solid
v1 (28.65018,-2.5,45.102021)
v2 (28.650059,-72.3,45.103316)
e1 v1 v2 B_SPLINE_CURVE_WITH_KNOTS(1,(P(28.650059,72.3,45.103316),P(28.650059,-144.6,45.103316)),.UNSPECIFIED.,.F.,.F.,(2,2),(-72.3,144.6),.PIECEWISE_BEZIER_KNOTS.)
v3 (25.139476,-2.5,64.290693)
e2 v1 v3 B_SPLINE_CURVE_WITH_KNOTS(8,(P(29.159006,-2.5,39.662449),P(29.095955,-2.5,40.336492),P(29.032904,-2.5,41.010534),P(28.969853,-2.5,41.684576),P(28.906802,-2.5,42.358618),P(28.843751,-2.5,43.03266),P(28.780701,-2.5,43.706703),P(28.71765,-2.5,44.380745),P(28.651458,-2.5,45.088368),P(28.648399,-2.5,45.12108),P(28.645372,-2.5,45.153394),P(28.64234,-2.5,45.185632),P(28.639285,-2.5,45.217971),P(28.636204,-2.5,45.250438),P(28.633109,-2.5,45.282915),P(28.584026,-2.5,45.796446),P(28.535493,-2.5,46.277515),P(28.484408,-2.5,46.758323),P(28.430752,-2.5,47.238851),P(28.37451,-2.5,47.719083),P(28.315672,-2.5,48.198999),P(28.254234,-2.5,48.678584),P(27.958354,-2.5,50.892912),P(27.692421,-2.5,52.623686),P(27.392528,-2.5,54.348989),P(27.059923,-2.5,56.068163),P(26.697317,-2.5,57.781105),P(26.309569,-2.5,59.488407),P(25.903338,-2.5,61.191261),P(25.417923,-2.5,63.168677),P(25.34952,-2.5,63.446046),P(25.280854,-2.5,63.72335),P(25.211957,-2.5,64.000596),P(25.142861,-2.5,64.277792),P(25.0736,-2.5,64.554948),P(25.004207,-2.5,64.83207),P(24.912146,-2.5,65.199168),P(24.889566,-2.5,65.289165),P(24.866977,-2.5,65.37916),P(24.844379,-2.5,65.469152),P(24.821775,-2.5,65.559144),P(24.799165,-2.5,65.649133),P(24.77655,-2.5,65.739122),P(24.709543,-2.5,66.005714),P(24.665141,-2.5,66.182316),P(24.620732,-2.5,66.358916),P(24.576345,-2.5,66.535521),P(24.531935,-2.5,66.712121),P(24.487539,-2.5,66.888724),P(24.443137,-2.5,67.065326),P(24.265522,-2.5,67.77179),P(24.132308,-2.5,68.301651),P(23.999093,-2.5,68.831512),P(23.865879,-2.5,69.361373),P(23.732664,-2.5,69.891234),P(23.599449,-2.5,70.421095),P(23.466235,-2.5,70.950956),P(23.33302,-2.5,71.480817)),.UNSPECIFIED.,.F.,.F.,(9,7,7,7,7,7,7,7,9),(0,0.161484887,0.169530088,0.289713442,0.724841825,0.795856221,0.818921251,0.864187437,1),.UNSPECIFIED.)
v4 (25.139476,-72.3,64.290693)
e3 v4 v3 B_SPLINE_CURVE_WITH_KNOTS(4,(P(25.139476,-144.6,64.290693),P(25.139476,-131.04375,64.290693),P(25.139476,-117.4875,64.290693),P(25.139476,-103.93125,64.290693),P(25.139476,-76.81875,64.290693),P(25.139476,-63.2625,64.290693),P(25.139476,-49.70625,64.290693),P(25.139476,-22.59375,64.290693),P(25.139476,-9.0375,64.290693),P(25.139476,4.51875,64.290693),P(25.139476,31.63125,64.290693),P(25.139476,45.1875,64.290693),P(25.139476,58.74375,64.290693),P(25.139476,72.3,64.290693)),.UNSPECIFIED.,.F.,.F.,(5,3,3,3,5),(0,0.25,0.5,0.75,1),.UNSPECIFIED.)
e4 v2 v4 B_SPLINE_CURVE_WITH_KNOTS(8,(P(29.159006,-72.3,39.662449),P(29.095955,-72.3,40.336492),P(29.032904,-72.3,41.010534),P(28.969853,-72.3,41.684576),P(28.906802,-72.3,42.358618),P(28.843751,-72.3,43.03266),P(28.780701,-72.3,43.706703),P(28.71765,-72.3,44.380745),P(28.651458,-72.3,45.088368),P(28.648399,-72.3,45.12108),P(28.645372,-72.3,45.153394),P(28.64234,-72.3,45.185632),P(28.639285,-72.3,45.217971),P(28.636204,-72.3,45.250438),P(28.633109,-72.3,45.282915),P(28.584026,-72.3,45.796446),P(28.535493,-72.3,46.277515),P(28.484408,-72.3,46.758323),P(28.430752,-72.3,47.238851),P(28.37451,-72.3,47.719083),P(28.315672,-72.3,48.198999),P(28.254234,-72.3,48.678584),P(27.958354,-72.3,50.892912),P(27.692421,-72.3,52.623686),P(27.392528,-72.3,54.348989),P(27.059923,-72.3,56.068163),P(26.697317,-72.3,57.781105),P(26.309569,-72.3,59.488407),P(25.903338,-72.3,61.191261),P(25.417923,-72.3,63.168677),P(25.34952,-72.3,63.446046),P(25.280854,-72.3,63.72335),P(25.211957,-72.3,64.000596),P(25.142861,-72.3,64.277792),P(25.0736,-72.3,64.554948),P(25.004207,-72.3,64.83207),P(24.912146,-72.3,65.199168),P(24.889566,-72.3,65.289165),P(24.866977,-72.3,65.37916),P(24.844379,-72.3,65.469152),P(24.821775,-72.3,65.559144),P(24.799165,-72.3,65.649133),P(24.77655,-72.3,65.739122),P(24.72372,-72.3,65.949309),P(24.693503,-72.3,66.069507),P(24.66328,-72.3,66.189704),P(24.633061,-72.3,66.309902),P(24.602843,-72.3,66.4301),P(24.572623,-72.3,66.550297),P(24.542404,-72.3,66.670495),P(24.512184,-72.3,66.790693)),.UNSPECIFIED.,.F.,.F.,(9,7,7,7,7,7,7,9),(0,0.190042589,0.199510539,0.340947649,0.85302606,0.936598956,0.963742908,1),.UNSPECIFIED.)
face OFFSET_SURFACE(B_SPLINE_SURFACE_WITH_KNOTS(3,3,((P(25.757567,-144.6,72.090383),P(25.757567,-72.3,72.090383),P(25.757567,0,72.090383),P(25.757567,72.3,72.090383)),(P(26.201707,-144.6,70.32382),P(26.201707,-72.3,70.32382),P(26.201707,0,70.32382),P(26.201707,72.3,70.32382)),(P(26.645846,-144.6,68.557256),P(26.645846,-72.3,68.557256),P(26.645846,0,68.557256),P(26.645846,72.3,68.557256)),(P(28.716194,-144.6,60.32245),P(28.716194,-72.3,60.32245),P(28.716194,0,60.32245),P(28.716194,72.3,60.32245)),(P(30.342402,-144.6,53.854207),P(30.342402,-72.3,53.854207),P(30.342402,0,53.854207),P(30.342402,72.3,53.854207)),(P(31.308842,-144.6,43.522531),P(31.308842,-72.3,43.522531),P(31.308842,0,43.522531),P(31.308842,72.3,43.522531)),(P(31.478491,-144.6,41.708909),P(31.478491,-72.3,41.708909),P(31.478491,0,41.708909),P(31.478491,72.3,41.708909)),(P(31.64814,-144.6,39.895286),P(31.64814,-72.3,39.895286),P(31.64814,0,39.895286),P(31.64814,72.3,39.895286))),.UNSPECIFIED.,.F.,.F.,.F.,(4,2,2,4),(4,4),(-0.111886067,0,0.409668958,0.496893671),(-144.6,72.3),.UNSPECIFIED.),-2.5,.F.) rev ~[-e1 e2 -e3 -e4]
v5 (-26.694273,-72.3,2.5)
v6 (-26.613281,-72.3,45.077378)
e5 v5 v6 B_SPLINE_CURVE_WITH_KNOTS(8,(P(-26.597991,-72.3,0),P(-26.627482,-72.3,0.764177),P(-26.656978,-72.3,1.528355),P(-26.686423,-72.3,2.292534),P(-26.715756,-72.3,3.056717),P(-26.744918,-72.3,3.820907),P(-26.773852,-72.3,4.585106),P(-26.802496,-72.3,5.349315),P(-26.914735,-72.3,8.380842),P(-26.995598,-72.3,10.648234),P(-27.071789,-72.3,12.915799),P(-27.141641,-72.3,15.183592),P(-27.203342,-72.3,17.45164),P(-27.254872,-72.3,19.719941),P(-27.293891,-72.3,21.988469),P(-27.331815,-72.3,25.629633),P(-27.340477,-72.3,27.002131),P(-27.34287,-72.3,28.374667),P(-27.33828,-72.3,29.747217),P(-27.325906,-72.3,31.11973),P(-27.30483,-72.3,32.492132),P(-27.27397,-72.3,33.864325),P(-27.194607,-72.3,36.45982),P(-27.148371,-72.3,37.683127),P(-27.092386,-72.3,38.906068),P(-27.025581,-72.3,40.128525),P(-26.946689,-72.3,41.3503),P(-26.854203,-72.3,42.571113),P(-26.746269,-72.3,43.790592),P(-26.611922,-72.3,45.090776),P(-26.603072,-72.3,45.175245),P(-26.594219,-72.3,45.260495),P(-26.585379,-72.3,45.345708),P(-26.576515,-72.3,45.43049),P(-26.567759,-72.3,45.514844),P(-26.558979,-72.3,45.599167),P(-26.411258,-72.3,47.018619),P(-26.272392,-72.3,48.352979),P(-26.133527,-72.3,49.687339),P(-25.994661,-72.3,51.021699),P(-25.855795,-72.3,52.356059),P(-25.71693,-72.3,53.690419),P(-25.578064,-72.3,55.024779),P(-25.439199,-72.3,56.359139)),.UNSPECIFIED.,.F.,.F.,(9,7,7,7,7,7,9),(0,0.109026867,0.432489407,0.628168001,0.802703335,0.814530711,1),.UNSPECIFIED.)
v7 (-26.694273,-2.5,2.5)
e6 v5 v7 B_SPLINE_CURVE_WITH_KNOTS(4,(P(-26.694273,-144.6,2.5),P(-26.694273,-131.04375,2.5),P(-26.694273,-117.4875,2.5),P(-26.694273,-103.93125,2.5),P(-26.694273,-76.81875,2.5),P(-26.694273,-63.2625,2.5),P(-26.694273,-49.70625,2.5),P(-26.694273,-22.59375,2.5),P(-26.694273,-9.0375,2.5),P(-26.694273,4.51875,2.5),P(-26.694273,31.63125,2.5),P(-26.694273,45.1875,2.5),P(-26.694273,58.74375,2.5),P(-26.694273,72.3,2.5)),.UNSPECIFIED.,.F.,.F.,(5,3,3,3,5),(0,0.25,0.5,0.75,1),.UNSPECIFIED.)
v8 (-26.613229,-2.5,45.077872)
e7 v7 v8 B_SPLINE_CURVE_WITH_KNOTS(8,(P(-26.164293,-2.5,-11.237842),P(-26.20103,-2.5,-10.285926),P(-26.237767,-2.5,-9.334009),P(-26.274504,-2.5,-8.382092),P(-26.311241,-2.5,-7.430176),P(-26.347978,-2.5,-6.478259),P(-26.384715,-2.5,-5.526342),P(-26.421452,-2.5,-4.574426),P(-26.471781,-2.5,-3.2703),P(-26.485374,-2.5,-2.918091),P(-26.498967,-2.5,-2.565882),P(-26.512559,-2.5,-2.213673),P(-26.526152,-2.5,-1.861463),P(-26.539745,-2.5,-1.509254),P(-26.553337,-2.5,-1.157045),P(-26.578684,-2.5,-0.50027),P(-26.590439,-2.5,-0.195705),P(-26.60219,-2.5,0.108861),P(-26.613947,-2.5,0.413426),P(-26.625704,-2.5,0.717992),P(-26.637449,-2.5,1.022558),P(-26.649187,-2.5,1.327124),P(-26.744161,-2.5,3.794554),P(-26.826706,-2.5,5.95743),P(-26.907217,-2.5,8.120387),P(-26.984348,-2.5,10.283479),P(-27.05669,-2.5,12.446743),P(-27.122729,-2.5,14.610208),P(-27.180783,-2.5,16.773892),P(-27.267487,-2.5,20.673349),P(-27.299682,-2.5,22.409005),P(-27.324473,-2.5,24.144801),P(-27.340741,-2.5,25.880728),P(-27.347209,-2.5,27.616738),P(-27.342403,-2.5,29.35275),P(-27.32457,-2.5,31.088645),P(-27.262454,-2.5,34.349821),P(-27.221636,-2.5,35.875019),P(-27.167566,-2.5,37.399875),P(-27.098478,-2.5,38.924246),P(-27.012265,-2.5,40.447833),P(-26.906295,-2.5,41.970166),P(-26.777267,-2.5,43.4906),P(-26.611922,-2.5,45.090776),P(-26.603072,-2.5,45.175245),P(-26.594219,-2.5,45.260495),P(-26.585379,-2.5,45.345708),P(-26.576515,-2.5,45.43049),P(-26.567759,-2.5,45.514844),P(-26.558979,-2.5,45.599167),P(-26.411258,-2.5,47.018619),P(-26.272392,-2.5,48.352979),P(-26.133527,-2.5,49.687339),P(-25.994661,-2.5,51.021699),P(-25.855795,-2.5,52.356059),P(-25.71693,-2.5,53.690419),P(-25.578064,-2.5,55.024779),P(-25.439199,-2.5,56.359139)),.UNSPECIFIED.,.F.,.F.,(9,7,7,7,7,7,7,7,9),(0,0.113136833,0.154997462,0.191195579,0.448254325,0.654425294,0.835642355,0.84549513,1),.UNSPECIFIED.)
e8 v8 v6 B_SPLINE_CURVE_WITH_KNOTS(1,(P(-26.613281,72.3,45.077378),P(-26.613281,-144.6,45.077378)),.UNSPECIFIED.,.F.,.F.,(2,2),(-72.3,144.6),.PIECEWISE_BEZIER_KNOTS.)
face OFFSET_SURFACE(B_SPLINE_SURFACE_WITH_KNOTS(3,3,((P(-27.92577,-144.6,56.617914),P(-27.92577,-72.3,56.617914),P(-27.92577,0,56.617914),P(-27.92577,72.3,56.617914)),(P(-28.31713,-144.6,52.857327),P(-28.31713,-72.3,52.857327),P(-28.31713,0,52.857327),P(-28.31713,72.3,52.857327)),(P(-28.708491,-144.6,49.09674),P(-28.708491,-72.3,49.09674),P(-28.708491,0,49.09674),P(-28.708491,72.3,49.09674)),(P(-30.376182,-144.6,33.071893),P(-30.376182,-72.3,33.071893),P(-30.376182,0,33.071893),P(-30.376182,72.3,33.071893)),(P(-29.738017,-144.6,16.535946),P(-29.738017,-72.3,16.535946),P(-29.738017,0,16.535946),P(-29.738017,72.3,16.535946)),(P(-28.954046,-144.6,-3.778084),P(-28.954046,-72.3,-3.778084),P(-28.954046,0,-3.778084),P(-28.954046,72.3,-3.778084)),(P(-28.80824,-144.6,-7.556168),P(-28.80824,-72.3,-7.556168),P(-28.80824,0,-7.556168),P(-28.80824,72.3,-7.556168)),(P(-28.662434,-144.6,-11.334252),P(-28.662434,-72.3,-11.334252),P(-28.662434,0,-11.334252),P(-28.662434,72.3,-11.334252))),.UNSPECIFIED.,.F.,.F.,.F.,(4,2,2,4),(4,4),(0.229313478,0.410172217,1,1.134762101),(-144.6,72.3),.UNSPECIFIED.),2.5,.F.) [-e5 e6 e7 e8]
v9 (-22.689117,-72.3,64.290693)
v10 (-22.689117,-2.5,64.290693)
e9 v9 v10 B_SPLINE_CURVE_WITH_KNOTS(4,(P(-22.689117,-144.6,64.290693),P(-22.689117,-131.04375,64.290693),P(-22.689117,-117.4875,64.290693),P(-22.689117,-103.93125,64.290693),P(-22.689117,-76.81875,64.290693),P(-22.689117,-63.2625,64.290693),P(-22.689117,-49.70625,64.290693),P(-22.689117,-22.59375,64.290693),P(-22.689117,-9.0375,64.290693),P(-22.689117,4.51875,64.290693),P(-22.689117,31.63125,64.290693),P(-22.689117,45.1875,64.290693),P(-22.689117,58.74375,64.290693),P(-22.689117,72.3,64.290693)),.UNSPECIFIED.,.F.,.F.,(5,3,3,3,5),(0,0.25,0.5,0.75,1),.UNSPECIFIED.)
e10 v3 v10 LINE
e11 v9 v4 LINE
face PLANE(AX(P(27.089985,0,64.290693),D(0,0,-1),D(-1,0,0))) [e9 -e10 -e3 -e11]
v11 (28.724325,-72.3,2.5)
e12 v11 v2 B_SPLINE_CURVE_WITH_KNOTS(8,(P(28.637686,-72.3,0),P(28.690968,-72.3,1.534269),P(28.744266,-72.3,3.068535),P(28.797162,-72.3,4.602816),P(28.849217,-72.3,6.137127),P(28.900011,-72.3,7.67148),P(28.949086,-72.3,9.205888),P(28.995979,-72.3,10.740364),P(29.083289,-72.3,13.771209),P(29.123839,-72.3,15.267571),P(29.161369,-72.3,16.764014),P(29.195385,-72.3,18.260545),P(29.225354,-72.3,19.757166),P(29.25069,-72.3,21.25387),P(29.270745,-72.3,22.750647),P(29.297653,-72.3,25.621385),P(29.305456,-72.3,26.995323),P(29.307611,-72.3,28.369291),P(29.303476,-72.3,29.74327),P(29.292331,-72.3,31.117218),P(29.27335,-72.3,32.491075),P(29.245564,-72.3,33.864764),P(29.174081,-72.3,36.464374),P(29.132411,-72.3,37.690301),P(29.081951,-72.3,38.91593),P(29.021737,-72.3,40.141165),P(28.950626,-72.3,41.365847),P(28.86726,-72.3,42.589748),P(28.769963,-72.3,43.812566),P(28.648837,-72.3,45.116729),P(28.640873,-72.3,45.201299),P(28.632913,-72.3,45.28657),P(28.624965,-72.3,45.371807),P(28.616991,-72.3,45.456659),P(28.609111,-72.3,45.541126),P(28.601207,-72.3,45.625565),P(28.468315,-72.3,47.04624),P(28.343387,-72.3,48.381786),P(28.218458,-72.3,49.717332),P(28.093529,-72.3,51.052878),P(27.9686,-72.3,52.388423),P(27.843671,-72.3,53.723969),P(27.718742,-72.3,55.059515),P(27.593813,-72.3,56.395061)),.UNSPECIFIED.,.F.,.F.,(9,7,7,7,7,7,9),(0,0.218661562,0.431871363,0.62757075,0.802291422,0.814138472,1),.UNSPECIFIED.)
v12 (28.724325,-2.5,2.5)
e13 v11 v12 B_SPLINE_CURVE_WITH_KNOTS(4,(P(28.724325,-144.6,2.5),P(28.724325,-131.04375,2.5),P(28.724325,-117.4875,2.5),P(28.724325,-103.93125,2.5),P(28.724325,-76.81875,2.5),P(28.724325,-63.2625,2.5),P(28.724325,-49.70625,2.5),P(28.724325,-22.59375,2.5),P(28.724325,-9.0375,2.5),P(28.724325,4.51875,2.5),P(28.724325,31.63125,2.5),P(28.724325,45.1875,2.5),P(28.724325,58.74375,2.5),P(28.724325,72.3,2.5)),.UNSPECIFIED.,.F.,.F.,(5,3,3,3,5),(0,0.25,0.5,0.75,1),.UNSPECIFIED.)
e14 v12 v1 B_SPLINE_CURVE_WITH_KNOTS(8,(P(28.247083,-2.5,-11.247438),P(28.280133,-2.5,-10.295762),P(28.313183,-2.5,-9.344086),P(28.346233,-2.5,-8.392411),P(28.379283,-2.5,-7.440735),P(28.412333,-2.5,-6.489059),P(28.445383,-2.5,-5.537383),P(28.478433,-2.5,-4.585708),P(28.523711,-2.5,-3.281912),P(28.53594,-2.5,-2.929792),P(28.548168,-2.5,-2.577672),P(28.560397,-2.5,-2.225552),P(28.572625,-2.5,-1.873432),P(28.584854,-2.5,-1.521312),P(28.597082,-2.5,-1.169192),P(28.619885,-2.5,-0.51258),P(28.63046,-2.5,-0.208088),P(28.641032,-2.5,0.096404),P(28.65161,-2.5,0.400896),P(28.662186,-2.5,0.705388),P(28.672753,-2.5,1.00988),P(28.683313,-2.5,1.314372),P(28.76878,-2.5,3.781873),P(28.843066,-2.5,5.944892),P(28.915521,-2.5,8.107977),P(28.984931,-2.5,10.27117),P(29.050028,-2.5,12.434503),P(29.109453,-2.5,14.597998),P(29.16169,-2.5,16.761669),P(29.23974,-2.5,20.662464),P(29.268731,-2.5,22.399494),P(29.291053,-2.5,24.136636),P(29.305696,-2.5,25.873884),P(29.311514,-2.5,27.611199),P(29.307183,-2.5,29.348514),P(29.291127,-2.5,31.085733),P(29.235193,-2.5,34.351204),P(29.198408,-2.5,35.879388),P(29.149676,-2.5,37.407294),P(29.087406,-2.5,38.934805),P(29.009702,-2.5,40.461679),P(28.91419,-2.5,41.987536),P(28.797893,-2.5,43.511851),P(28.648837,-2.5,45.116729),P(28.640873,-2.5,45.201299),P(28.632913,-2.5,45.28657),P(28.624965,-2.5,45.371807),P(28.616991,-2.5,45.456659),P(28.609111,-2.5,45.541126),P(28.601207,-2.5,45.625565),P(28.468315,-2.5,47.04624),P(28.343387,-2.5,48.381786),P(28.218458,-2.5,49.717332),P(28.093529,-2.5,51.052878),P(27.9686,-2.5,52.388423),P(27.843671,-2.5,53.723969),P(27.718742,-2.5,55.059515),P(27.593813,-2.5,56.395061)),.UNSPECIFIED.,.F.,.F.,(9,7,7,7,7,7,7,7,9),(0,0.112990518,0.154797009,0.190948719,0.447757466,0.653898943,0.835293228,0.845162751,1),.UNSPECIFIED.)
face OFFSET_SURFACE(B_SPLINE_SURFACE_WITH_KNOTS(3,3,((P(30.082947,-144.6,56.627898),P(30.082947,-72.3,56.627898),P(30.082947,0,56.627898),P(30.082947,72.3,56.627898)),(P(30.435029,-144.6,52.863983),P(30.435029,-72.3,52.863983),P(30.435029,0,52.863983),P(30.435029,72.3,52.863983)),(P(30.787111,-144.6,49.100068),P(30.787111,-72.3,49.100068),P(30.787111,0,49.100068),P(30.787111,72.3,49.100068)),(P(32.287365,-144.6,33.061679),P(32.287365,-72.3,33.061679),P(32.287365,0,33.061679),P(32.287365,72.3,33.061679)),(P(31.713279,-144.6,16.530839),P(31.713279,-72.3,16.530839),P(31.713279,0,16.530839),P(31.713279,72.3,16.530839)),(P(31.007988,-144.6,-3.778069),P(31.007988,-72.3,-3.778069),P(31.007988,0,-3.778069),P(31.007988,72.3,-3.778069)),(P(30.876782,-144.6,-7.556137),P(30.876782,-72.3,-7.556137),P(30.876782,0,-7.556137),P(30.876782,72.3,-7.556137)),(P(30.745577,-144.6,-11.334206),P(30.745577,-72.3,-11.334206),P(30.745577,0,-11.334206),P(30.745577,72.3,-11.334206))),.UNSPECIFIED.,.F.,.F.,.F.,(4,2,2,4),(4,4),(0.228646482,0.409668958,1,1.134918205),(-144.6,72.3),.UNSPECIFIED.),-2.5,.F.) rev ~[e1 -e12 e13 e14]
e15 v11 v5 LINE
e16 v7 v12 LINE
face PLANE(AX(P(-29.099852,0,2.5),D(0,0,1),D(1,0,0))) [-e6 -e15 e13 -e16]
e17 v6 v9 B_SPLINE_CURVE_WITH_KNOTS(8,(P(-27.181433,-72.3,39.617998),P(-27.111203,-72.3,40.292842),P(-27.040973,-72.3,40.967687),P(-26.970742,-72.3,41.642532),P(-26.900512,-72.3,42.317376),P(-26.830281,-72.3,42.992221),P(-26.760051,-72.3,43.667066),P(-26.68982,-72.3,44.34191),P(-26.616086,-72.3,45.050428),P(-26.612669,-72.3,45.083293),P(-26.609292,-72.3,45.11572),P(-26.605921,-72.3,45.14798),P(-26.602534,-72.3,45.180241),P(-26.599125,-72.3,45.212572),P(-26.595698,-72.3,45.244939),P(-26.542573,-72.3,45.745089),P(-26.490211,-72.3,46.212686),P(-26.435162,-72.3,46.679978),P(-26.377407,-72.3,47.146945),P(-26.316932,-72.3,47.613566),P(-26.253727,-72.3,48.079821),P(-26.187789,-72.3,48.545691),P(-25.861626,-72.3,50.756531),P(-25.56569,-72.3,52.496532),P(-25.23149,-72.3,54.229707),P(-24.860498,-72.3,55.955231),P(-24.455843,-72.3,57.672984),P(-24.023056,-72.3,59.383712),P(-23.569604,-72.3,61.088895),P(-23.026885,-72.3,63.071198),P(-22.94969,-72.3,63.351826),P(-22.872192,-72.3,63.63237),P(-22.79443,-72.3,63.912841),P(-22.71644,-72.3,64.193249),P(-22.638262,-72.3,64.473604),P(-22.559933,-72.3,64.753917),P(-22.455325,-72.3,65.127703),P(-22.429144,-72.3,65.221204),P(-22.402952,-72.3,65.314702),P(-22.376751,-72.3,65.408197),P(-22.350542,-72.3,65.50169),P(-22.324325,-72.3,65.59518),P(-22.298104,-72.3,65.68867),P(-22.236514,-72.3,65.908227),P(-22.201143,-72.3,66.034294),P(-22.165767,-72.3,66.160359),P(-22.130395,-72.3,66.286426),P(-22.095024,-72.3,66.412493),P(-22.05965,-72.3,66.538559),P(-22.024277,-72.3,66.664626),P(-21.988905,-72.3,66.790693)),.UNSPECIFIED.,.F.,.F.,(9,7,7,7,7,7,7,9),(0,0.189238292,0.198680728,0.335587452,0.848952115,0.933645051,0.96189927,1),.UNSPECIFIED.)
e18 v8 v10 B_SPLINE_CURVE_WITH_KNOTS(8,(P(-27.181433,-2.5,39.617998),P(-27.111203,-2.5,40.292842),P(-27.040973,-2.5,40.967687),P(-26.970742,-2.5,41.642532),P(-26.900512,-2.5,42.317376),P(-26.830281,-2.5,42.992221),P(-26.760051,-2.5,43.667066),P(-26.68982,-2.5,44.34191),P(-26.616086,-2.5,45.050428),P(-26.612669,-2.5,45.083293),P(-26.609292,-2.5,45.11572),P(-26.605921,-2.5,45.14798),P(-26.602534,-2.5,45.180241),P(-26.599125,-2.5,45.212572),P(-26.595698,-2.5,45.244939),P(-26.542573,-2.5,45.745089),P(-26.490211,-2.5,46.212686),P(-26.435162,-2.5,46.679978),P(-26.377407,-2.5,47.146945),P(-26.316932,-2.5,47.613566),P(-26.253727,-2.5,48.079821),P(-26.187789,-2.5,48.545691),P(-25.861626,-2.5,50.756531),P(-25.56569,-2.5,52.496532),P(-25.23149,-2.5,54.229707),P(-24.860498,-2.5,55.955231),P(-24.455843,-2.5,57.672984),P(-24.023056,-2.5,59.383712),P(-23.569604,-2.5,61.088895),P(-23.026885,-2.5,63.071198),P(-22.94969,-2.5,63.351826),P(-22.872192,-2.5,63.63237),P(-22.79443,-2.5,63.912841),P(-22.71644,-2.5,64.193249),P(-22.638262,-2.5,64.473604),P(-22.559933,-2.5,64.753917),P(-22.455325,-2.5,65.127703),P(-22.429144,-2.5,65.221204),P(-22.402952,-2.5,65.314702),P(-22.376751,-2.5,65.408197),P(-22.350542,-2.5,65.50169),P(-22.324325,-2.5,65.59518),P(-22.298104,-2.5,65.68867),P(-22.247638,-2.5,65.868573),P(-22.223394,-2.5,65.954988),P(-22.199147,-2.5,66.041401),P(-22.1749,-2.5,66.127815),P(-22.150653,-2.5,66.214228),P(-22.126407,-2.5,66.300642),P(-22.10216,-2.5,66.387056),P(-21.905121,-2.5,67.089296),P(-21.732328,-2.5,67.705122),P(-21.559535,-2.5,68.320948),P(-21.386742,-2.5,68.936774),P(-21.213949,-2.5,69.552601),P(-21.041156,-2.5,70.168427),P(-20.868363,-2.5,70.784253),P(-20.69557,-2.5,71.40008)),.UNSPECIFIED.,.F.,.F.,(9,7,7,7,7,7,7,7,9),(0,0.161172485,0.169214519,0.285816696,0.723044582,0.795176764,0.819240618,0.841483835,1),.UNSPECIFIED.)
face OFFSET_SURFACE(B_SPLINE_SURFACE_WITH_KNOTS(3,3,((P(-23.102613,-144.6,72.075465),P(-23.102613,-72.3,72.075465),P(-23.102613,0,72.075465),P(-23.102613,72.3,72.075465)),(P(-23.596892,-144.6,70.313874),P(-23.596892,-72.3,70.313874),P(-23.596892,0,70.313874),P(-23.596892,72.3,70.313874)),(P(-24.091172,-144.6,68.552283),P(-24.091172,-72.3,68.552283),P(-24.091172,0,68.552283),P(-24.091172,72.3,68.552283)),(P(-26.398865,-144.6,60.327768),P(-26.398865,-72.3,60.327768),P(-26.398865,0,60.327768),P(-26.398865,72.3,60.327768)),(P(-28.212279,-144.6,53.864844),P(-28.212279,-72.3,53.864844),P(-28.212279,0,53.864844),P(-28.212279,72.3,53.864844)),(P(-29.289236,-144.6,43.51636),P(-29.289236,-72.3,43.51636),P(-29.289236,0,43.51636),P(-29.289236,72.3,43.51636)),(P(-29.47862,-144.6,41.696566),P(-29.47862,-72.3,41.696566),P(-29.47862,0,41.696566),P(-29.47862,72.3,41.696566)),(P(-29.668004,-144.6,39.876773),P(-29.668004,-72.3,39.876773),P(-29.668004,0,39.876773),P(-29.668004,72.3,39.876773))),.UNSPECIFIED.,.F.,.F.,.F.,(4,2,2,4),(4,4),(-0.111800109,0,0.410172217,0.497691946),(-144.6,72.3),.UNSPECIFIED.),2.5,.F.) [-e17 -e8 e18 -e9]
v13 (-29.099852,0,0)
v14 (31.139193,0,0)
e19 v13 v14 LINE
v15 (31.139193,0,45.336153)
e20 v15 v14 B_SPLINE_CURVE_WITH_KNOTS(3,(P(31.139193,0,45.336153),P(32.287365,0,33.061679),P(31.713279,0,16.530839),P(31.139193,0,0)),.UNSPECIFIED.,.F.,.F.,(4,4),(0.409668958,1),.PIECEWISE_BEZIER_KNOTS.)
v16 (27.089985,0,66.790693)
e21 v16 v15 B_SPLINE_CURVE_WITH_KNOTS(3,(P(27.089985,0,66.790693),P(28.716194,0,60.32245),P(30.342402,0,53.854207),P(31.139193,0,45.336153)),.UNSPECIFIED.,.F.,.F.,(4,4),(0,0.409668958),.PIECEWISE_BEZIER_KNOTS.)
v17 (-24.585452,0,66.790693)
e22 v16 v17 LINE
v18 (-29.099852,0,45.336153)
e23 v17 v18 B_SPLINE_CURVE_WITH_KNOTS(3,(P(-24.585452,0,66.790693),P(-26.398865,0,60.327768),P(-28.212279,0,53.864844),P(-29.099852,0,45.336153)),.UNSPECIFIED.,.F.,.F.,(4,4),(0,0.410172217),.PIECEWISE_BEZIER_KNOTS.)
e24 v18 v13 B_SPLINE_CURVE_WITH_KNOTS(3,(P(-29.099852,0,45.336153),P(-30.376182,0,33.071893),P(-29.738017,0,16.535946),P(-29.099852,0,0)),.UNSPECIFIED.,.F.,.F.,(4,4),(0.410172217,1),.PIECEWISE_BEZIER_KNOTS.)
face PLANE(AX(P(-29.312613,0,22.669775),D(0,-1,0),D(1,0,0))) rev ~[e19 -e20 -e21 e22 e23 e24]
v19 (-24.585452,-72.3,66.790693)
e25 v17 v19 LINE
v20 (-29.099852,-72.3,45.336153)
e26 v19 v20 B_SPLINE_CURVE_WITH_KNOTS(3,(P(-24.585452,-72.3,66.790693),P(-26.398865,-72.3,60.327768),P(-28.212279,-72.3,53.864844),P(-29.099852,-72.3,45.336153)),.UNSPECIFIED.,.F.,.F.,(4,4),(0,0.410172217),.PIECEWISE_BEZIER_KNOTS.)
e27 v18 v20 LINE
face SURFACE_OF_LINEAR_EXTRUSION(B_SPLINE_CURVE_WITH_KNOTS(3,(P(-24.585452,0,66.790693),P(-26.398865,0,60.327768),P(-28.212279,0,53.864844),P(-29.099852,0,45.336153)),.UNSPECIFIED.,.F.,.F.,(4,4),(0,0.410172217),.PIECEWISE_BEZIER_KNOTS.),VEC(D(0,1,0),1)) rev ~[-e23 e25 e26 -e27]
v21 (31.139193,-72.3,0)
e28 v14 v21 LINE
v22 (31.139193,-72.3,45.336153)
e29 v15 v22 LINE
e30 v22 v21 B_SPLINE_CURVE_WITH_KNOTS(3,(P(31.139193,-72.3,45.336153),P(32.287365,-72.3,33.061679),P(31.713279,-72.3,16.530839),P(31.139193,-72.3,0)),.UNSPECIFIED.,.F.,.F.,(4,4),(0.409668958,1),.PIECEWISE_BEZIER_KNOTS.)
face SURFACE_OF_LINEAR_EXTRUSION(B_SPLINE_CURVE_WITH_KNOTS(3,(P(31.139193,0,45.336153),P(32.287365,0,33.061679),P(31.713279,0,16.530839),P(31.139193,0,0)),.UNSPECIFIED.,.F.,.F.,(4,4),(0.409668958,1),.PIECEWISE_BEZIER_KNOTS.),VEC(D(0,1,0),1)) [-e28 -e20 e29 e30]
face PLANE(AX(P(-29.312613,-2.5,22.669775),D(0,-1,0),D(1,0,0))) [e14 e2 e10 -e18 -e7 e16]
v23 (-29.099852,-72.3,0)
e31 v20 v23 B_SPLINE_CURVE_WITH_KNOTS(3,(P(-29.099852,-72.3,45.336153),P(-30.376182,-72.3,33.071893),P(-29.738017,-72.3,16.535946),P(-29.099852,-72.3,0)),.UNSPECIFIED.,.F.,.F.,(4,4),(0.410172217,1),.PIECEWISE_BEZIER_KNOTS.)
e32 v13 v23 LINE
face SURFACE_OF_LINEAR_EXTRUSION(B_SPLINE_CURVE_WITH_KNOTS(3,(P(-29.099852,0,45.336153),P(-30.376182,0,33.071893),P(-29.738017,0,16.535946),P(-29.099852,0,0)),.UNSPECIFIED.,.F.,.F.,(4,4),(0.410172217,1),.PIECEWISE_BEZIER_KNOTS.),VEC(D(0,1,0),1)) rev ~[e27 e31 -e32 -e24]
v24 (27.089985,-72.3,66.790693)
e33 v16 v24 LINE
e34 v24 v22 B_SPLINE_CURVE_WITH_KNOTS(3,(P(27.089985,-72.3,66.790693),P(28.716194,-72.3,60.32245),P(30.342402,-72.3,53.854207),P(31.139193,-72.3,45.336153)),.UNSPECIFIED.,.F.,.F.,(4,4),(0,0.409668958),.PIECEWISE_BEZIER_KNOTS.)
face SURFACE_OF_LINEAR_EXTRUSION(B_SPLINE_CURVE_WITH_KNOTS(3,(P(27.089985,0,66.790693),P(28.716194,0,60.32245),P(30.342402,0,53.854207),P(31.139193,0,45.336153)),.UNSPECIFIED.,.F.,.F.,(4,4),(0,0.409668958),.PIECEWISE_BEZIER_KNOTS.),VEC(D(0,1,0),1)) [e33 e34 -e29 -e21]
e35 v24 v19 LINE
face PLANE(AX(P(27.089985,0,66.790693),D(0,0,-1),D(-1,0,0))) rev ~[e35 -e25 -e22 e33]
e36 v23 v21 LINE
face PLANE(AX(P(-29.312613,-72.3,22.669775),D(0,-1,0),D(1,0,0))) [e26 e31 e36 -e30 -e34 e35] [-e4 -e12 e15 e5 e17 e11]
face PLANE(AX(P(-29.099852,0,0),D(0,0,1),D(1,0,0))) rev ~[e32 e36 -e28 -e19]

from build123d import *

# Parameters (mm, degrees)
F0_W     = 60.2390449494
F0_H     = 45.3361533582
F1_DEPTH = 72.3
F2_T     = -2.5


with BuildPart() as f1:
    # F0 (on Front) → F1 (new body)
    with BuildSketch(Plane.XZ):
        with BuildLine():
            add(Edge.make_bspline(
                [(-29.0998518467, 45.3361533582), (-30.3761818728, 33.0718928085), (-29.7380168597, 16.5359464043), (-29.0998518467, 0)],
                knots=[0.4101722166, 0.4101722166, 0.4101722166, 0.4101722166, 1, 1, 1, 1], degree=3))
            Line((-29.0998518467, 0), (-29.0998518467, 45.3361533582))
        make_face()
        with BuildLine():
            Line((31.1391931027, 45.3361533582), (31.1391931027, 0))
            add(Edge.make_bspline(
                [(31.1391931027, 45.3361533582), (32.2873652792, 33.0616785906), (31.713279191, 16.5308392953), (31.1391931027, 0)],
                knots=[0.4096689576, 0.4096689576, 0.4096689576, 0.4096689576, 1, 1, 1, 1], degree=3))
        make_face()
        with Locations((1.019670628, 22.6680766791)):
            Rectangle(F0_W, F0_H)
        with BuildLine():
            add(Edge.make_bspline(
                [(-24.5854519308, 66.7906925082), (-26.3988654728, 60.3277684568), (-28.2122790148, 53.8648444053), (-29.0998518467, 45.3361533582)],
                knots=[0, 0, 0, 0, 0.4101722166, 0.4101722166, 0.4101722166, 0.4101722166], degree=3))
            Line((-29.0998518467, 45.3361533582), (31.1391931027, 45.3361533582))
            add(Edge.make_bspline(
                [(27.0899850875, 66.7906925082), (28.7161935637, 60.3224495827), (30.3424020399, 53.8542066572), (31.1391931027, 45.3361533582)],
                knots=[0, 0, 0, 0, 0.4096689576, 0.4096689576, 0.4096689576, 0.4096689576], degree=3))
            Line((27.0899850875, 66.7906925082), (0, 66.7906925082))
            Line((0, 66.7906925082), (-21.6005891562, 66.7906925082))
            Line((-21.6005891562, 66.7906925082), (-24.5854519308, 66.7906925082))
        make_face()
    extrude(amount=F1_DEPTH)

    # F2
    f2_openings = [f1.faces().sort_by_distance(p)[0] for p in [
        (1.031904, -72.3, 32.779225),
    ]]
    offset(amount=F2_T, openings=f2_openings, kind=Kind.INTERSECTION)


solid = f1.part
